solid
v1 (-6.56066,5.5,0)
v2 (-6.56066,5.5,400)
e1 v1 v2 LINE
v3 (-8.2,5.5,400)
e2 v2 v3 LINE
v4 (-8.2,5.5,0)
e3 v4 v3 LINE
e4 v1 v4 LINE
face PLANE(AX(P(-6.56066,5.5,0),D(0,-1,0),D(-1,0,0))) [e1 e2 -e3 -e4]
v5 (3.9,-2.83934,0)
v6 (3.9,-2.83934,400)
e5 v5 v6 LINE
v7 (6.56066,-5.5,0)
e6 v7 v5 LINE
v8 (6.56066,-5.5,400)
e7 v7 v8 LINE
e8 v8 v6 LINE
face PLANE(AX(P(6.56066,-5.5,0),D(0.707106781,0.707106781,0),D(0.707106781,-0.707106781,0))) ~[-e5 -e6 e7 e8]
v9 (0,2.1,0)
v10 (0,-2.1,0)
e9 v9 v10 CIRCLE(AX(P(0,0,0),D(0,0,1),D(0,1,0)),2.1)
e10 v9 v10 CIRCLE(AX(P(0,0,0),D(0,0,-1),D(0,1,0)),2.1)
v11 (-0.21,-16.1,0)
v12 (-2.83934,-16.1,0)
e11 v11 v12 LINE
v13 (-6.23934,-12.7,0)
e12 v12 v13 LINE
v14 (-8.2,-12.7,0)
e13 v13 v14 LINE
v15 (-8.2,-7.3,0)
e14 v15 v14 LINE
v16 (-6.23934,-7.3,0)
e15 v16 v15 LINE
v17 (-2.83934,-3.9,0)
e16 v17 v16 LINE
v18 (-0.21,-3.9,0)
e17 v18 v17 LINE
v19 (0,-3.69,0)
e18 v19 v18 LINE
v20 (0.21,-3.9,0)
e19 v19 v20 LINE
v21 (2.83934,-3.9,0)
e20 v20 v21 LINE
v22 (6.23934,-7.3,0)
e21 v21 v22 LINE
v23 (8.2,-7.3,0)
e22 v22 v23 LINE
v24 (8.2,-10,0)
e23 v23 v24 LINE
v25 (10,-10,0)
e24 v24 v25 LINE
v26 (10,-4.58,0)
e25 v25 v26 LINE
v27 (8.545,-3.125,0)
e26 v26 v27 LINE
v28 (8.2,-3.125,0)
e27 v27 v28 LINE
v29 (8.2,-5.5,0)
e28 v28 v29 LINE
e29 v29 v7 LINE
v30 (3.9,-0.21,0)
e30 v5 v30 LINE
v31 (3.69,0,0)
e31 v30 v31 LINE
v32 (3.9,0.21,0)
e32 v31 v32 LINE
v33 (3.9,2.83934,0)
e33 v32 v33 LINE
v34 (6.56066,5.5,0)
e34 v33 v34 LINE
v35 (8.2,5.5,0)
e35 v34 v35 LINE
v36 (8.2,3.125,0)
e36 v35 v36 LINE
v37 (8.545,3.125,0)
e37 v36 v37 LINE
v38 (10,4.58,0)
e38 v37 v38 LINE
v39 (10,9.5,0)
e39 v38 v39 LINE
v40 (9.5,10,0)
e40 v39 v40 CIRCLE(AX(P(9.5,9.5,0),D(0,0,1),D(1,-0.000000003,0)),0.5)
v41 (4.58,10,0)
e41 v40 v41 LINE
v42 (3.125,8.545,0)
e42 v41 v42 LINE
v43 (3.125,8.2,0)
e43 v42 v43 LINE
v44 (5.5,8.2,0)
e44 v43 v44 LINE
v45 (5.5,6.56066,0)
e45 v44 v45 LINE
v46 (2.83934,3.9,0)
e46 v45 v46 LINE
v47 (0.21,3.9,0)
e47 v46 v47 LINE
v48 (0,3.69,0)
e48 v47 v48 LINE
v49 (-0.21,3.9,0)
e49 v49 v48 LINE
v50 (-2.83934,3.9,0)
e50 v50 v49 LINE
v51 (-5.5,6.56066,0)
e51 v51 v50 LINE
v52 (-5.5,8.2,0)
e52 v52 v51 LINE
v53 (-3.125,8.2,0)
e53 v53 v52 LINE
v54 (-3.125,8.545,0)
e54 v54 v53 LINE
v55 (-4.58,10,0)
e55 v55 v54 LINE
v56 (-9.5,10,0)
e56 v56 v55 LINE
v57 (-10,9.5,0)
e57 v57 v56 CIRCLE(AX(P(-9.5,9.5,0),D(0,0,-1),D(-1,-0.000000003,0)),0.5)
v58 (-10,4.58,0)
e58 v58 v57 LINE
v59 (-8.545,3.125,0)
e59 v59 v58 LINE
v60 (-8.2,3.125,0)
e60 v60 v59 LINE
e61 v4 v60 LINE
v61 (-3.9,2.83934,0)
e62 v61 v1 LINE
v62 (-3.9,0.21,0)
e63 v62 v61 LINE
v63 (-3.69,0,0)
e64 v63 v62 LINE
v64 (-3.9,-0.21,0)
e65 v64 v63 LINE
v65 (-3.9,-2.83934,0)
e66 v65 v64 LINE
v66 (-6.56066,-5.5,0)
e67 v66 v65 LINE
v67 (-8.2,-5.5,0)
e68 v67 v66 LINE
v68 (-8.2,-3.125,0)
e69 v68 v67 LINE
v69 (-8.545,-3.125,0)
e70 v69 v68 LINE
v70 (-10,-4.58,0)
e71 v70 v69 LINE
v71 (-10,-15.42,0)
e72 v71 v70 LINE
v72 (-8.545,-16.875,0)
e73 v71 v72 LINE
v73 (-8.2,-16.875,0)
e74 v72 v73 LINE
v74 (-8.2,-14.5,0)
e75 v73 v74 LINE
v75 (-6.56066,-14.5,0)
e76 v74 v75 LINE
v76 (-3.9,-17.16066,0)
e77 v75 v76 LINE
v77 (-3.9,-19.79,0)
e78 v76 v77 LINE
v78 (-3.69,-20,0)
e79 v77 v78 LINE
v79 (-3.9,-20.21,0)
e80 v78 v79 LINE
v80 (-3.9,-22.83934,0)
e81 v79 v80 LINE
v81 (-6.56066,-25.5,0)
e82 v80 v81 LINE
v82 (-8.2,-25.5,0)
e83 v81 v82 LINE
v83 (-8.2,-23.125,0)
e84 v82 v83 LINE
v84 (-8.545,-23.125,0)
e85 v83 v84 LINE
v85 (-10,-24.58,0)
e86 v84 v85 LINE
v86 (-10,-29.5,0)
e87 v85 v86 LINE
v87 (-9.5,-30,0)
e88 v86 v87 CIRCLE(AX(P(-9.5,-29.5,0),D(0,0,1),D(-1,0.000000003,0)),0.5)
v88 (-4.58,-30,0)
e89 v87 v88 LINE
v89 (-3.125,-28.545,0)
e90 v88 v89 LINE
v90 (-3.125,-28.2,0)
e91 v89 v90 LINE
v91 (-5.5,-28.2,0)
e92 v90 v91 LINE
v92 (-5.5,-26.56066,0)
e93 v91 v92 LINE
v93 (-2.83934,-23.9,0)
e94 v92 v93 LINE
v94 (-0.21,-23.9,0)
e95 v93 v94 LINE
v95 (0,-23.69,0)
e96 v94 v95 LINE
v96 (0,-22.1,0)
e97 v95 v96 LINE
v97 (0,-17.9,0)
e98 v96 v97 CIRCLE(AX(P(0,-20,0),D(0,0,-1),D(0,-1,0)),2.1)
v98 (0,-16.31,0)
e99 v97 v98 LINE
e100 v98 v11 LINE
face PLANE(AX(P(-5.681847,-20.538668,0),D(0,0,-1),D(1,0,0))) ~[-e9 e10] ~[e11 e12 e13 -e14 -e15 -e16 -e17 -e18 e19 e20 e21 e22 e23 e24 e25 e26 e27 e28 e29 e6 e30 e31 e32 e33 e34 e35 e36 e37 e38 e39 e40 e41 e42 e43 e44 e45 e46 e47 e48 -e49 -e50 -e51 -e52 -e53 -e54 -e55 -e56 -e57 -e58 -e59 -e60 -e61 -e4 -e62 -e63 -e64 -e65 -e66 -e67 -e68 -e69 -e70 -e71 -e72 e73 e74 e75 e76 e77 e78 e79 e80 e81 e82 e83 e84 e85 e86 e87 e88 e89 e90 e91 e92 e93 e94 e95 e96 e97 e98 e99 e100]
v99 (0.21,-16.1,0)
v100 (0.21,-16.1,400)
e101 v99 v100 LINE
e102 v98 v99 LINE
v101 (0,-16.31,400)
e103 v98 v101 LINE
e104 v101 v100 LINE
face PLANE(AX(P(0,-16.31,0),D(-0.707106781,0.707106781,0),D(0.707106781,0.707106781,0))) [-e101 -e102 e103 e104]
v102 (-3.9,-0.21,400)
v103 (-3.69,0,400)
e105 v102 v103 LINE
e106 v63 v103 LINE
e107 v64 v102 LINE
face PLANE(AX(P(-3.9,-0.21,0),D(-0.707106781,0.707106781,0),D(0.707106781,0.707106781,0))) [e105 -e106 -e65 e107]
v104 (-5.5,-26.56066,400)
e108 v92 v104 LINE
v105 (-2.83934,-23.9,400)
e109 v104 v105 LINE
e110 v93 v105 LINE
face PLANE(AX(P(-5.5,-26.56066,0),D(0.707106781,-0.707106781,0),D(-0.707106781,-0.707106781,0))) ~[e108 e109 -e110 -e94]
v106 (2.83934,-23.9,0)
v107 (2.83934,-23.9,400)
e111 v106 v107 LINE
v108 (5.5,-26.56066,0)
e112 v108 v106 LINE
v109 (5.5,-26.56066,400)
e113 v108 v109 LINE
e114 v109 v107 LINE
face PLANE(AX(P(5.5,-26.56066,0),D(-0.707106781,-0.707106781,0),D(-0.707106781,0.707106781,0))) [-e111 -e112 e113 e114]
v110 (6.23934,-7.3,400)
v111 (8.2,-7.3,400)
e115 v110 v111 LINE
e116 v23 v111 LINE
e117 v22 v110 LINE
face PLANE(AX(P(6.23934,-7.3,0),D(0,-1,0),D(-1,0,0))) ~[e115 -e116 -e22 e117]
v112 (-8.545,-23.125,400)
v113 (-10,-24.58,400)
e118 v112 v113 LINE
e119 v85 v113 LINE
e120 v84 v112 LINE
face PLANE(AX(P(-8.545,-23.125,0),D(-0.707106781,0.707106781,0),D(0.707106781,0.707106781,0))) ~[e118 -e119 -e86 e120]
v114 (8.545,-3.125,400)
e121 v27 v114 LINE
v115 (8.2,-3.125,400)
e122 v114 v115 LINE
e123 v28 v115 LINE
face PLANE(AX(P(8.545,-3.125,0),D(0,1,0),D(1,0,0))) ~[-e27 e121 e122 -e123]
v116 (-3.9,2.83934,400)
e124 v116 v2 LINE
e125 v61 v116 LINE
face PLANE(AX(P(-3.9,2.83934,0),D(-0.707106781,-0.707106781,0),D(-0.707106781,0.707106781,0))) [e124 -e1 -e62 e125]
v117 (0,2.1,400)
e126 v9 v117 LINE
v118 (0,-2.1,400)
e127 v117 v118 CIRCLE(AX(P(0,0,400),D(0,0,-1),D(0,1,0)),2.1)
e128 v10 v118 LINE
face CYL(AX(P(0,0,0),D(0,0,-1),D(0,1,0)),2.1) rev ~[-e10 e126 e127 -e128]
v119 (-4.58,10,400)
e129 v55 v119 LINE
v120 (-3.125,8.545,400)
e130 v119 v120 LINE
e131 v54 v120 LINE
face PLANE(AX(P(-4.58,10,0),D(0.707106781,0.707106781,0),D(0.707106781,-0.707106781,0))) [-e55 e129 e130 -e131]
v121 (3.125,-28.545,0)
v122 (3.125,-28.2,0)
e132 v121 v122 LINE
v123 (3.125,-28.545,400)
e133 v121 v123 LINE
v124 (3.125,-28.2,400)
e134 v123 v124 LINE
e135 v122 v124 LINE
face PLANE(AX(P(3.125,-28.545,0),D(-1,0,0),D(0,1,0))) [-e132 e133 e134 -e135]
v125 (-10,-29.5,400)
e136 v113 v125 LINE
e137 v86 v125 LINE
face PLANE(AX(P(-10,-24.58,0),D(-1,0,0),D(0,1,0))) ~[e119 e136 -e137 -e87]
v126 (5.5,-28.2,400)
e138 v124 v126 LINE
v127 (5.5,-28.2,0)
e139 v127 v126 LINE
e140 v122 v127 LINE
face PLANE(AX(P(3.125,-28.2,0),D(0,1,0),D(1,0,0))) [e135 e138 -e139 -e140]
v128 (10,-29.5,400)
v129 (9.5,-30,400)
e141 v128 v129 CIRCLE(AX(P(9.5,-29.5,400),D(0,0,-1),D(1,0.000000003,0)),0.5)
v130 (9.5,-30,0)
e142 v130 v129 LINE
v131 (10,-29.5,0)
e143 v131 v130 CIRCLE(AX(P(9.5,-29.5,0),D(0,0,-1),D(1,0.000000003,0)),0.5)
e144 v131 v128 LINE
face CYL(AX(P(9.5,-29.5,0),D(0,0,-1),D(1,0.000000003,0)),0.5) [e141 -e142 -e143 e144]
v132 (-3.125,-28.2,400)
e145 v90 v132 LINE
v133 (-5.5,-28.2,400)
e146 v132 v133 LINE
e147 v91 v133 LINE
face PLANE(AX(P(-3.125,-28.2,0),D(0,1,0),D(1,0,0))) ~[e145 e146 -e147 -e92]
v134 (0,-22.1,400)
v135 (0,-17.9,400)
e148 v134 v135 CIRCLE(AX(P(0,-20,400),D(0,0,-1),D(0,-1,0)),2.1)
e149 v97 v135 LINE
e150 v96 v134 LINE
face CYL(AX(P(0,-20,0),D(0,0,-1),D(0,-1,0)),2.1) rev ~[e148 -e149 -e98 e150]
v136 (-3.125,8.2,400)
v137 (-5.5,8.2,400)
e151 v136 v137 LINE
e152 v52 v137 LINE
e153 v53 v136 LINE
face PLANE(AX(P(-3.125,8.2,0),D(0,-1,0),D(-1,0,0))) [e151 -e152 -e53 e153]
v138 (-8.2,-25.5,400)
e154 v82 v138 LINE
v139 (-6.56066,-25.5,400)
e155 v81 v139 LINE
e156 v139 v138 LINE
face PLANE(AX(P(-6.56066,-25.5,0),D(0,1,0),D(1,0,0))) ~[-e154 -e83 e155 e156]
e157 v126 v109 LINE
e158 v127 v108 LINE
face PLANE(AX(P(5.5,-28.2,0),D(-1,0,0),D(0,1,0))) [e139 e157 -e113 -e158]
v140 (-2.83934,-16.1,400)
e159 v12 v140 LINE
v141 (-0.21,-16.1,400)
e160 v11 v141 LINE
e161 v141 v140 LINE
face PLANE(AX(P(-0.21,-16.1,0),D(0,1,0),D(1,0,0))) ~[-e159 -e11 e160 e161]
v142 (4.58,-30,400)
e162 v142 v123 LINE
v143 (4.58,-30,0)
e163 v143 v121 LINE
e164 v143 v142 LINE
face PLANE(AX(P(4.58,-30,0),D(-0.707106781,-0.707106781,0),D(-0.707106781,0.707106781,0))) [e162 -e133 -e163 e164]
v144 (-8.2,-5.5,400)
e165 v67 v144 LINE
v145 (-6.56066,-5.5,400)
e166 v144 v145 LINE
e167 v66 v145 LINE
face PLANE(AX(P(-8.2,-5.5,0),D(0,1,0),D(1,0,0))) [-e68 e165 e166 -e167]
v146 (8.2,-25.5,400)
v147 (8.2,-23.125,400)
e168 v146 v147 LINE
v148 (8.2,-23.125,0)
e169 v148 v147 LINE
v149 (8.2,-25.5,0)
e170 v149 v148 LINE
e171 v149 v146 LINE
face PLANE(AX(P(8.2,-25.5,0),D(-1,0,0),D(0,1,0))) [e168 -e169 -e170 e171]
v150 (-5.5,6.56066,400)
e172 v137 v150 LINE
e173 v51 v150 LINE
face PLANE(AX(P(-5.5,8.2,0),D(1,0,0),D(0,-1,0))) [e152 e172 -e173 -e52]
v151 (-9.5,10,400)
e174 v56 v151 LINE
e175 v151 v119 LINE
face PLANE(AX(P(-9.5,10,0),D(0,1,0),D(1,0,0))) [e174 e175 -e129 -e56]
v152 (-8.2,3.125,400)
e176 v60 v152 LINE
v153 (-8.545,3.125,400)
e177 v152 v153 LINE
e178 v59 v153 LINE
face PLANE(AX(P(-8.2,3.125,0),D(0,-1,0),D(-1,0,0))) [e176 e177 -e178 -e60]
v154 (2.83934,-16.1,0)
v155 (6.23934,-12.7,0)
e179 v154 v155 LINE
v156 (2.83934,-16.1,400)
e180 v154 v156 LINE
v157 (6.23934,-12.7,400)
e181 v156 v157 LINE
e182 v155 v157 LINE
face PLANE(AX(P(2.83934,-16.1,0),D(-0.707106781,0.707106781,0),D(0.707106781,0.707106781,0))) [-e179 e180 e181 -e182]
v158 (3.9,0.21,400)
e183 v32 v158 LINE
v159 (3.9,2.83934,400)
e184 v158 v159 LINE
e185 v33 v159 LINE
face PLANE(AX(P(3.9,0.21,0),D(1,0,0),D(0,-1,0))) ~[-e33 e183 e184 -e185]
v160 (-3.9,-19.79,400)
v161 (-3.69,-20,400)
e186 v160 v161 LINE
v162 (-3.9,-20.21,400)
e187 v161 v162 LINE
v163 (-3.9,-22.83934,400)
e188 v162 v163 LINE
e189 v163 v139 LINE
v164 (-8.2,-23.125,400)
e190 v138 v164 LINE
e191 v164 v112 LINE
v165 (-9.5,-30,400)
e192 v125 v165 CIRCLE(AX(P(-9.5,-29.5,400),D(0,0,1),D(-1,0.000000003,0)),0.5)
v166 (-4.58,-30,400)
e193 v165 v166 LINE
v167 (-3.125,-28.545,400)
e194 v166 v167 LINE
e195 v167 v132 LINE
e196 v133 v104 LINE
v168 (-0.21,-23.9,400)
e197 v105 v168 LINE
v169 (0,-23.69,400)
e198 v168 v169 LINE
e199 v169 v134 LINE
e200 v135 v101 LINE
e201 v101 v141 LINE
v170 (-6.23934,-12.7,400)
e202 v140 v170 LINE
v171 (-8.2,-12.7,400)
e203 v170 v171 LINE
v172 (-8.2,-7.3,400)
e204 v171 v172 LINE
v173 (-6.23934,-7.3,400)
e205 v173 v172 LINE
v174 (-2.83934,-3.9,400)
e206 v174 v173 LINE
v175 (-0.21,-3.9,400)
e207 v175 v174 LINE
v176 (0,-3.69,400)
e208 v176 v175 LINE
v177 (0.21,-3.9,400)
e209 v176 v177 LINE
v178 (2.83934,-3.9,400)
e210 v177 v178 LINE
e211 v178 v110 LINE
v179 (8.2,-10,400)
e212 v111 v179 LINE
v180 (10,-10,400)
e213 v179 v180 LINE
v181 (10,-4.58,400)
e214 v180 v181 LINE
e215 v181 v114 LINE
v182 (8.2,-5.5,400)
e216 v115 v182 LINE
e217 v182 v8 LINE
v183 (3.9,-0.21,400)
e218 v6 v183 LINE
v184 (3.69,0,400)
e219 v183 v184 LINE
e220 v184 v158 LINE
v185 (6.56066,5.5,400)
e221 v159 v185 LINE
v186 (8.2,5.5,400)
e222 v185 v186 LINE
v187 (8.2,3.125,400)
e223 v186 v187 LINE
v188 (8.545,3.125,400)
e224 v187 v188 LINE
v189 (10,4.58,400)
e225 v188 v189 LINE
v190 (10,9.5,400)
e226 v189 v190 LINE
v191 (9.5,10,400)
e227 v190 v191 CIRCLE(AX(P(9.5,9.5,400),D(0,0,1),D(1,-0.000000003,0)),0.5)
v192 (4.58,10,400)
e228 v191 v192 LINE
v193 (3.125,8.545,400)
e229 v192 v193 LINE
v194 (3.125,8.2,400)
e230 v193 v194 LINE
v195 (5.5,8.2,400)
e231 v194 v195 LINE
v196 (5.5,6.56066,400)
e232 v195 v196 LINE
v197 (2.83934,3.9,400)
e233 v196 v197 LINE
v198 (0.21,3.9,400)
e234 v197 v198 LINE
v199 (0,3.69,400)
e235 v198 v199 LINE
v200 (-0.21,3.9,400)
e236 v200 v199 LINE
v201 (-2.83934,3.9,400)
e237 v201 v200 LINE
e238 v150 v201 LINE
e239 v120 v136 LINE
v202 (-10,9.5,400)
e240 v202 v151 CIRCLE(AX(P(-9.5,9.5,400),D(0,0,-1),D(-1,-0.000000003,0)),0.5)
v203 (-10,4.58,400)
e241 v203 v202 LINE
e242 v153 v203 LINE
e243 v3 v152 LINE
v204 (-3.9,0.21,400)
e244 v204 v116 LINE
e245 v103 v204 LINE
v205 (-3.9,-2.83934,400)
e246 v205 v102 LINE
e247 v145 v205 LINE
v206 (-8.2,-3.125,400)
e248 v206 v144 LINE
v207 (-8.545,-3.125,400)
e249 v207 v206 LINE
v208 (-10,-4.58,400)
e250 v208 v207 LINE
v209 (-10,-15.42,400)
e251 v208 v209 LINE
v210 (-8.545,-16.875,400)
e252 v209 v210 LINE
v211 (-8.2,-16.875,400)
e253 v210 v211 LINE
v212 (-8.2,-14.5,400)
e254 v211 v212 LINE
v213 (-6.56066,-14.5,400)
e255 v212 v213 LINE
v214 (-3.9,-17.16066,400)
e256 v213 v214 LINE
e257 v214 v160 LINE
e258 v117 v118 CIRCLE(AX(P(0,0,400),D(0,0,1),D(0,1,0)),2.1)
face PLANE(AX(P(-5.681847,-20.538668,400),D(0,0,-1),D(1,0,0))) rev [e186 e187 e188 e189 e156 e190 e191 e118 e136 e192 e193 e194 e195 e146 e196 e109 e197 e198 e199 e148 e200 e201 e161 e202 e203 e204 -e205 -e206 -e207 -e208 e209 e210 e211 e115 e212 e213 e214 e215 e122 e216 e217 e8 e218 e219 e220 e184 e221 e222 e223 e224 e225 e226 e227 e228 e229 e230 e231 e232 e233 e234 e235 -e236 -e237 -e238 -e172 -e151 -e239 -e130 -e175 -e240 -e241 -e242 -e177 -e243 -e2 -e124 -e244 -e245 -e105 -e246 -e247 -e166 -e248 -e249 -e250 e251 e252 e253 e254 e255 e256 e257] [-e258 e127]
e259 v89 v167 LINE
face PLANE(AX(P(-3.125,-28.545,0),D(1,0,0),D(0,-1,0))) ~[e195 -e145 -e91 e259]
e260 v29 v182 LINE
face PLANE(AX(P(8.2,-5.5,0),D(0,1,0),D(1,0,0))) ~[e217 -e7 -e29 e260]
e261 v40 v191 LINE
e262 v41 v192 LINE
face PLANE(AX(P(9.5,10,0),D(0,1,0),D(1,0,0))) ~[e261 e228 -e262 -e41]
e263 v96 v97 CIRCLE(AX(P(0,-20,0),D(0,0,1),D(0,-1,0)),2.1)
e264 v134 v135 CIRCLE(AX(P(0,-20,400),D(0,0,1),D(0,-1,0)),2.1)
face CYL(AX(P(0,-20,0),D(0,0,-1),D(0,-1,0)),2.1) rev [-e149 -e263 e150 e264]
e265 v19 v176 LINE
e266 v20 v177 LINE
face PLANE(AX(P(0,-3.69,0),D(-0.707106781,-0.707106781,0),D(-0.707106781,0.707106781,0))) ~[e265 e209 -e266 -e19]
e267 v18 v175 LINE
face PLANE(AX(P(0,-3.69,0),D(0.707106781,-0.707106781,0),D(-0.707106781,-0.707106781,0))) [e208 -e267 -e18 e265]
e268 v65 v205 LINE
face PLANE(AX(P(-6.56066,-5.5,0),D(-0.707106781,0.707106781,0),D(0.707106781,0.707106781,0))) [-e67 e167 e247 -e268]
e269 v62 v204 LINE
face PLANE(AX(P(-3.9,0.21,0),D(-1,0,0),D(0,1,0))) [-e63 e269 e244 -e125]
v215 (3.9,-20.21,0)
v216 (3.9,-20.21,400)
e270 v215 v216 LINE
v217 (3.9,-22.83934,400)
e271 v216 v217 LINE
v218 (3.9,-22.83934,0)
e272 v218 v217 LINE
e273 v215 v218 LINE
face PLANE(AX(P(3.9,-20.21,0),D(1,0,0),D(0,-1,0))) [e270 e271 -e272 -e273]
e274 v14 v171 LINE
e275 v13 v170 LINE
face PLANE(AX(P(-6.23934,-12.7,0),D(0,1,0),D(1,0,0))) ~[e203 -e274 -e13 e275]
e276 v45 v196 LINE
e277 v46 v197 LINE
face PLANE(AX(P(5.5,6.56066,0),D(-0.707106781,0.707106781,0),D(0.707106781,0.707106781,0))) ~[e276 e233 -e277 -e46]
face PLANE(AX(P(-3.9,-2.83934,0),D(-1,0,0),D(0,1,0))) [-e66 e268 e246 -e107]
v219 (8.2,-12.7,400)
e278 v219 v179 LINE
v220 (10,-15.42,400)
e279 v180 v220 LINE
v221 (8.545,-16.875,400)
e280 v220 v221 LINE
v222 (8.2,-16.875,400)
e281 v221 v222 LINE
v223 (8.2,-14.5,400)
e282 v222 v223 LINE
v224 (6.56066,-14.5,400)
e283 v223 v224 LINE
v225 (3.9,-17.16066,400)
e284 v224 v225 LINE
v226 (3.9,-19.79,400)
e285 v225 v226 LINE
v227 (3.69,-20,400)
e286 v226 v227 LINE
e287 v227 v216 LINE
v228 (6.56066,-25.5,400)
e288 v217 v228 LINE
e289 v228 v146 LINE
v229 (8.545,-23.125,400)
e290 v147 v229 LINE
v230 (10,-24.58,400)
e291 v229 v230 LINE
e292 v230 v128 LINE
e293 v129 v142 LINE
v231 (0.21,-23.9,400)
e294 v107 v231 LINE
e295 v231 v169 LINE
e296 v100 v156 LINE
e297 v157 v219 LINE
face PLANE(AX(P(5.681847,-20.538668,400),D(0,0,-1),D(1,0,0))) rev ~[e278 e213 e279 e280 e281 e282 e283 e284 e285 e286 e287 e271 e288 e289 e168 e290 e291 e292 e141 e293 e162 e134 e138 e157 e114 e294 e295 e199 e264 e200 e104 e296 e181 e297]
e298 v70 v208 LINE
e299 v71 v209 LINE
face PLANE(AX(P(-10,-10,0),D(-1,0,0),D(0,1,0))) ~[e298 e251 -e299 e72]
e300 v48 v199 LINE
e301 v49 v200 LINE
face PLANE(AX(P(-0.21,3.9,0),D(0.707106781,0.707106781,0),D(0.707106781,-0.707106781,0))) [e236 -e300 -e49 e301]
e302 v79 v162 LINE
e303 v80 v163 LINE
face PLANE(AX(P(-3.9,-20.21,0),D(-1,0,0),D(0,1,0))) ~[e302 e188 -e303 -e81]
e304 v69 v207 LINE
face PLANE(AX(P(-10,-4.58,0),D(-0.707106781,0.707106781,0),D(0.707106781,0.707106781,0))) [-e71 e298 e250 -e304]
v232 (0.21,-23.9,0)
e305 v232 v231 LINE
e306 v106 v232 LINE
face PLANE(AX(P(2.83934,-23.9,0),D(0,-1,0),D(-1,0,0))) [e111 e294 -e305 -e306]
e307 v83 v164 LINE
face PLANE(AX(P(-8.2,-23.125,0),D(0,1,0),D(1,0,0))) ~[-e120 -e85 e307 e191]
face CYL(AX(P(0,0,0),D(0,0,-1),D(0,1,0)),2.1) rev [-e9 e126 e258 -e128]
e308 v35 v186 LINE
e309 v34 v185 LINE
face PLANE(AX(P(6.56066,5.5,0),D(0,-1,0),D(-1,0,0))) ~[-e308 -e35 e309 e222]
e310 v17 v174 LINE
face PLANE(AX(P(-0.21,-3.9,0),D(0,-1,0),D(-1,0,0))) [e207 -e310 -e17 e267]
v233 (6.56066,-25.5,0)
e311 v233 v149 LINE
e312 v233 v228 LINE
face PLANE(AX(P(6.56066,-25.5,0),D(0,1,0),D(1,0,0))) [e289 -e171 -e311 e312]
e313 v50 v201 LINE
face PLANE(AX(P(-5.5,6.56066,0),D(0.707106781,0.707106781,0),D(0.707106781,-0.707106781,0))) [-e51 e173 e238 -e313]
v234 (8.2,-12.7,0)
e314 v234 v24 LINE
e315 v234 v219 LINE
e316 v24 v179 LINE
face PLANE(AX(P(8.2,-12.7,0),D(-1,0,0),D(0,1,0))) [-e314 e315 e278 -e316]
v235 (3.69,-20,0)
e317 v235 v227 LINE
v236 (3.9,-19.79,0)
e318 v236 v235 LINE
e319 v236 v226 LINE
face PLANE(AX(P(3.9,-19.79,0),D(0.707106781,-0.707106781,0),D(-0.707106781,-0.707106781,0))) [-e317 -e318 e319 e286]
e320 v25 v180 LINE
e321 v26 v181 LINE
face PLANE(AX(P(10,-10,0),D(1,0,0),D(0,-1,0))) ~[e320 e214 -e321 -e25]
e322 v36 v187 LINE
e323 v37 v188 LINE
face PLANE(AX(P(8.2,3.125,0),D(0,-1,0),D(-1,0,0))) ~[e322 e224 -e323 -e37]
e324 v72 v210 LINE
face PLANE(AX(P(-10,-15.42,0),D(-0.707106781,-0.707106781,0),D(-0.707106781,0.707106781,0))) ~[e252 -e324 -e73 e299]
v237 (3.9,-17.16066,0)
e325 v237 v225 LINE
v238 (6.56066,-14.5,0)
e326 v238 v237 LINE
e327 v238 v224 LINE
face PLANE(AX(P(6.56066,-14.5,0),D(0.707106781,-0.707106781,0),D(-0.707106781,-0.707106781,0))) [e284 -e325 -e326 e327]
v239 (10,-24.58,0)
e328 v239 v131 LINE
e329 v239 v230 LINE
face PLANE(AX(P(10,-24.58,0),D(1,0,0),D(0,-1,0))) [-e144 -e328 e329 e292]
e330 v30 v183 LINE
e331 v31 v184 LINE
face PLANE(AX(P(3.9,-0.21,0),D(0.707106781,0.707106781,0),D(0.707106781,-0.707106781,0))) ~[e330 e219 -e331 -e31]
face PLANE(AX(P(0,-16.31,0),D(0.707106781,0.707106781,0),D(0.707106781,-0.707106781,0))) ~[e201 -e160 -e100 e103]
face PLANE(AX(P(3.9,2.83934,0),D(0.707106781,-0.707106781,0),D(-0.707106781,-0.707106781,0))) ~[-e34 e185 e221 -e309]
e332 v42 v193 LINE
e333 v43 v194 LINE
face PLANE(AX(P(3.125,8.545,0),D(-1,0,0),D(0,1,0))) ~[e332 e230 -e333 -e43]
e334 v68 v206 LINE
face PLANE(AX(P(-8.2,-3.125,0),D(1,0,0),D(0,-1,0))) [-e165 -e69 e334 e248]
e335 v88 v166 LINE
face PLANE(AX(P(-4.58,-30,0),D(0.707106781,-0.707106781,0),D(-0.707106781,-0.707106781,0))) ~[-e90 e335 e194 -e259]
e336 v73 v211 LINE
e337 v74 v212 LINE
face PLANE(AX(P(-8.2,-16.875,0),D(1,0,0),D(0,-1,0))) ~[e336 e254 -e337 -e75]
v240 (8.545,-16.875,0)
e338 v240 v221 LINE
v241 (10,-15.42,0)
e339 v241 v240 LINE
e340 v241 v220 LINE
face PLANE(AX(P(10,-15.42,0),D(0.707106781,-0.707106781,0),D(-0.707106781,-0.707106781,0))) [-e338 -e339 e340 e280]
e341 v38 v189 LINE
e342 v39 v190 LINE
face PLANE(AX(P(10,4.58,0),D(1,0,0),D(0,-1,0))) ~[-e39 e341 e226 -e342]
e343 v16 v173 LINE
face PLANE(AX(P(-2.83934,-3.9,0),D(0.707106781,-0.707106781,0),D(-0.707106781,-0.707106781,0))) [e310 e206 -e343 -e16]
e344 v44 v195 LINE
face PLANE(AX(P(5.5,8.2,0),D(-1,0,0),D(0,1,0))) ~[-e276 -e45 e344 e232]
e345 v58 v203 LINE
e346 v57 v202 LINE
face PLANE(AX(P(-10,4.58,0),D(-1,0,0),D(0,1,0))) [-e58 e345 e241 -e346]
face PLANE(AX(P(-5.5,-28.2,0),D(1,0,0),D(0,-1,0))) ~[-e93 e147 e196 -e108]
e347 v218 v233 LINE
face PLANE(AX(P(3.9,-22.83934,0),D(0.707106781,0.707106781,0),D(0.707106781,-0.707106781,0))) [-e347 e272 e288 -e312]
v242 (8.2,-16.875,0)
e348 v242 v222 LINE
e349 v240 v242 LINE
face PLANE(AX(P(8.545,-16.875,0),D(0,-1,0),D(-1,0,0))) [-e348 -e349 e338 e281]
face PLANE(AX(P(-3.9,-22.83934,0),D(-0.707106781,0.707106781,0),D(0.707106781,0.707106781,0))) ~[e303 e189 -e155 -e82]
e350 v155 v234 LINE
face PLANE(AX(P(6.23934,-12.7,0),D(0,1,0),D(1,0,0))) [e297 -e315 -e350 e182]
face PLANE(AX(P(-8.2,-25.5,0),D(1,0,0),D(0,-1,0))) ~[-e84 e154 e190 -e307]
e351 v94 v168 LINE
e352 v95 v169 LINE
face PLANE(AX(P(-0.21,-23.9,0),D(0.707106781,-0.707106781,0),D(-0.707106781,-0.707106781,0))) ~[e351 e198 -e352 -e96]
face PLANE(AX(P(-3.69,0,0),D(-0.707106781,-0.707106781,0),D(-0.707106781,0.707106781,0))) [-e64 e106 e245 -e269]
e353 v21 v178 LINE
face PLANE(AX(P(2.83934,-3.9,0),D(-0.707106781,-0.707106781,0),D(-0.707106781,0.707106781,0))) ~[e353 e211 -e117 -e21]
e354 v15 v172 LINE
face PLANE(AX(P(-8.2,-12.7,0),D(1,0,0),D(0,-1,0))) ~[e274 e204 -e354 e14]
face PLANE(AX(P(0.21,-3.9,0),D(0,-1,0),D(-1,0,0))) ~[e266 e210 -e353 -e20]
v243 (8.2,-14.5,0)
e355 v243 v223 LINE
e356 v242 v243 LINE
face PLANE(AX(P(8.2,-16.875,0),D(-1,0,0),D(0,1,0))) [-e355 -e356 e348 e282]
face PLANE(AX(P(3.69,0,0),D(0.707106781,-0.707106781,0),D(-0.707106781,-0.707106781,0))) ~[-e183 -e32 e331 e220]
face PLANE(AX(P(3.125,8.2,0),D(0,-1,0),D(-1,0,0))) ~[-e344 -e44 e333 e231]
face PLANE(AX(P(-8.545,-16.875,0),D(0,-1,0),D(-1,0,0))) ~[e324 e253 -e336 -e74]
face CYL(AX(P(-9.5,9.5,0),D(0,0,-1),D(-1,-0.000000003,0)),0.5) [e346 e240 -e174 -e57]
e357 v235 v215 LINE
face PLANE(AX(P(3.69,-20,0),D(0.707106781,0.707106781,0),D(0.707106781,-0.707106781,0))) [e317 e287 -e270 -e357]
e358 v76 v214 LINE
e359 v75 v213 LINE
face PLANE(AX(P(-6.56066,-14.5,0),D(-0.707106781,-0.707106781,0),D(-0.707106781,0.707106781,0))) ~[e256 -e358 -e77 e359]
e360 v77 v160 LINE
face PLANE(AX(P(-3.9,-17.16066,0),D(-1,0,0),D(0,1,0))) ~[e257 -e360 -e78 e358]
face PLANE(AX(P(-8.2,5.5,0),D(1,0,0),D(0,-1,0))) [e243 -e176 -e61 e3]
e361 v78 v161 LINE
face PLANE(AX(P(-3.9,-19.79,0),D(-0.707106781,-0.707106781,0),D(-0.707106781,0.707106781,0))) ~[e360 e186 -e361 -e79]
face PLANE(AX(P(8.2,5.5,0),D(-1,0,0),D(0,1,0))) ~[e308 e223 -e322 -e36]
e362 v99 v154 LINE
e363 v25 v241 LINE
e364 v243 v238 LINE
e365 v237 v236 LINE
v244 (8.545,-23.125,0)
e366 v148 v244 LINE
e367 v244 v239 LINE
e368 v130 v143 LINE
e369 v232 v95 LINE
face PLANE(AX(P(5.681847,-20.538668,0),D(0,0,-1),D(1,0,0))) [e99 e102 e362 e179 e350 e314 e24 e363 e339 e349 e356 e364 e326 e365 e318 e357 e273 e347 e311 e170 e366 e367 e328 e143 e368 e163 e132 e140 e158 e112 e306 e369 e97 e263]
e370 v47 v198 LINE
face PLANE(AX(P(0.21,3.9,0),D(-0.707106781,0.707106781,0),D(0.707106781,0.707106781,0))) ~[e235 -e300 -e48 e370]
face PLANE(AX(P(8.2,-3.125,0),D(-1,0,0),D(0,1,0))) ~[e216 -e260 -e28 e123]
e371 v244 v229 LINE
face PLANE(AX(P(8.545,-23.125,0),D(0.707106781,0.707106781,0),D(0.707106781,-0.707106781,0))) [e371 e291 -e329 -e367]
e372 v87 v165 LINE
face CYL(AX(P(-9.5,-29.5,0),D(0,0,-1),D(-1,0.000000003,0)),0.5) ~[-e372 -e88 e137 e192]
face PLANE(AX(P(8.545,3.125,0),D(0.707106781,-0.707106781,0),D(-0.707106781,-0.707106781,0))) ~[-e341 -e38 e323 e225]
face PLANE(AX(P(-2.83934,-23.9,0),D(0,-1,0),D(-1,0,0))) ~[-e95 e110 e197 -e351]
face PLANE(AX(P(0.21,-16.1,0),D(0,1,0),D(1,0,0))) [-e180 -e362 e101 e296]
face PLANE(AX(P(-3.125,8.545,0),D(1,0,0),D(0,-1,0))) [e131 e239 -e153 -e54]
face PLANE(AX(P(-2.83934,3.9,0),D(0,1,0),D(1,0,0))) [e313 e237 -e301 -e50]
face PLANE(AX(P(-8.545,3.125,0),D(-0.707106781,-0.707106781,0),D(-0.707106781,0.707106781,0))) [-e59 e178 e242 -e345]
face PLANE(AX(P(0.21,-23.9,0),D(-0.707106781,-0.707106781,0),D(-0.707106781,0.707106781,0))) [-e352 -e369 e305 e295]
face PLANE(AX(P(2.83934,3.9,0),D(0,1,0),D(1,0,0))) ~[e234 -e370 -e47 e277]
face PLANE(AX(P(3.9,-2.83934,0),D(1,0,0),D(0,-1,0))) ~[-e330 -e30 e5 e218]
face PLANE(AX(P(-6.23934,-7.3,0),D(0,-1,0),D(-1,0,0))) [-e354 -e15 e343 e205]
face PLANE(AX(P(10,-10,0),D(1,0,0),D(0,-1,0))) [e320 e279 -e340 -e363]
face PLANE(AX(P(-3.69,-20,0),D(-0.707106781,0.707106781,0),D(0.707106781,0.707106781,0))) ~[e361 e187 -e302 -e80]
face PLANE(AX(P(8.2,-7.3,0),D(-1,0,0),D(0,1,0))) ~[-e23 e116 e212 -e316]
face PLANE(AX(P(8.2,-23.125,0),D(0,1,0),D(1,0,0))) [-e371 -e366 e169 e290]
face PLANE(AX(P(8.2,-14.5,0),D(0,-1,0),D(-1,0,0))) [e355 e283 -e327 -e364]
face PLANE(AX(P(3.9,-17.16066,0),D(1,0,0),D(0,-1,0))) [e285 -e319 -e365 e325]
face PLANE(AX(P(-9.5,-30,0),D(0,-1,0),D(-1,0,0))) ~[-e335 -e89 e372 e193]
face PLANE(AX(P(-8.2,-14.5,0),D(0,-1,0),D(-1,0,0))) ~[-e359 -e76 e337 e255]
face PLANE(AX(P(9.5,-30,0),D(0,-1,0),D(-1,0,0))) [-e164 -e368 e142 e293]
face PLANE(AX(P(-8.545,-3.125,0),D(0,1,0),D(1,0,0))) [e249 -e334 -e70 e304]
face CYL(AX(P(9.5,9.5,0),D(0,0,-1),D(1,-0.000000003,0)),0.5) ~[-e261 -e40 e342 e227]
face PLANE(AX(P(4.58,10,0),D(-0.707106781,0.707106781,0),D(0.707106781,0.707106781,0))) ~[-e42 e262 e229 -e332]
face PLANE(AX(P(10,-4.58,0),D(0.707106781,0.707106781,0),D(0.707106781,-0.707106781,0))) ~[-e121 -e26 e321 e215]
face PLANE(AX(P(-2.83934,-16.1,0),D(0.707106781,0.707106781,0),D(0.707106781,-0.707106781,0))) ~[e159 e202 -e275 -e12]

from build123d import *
from build123d.topology import SkipClean

# Parameters (mm, degrees)
BOSS_EXTRU_1_DEPTH     = 400
SYM_TRIE6_COPY_1_DEPTH = 400


with BuildPart() as part:
    # Esquisse1 → Boss.-Extru.1 (new body)
    with BuildSketch(Plane.XY):
        with BuildLine():
            Line((-9.5, 10), (-4.58, 10))
            Line((-4.58, 10), (-3.125, 8.545))
            Line((-3.125, 8.545), (-3.125, 8.2))
            Line((-3.125, 8.2), (-5.5, 8.2))
            Line((-5.5, 8.2), (-5.5, 6.560660172))
            Line((-5.5, 6.560660172), (-2.839339828, 3.9))
            Line((-2.839339828, 3.9), (-0.21, 3.9))
            Line((-0.21, 3.9), (0, 3.69))
            Line((0, 3.69), (0, 2.1))
            ThreePointArc((0, 2.1), (-2.1, 0), (0, -2.1))
            Line((0, -2.1), (0, -3.69))
            Line((0, -3.69), (-0.21, -3.9))
            Line((-0.21, -3.9), (-2.839339828, -3.9))
            Line((-2.839339828, -3.9), (-6.239339828, -7.3))
            Line((-6.239339828, -7.3), (-8.2, -7.3))
            Line((-8.2, -7.3), (-8.2, -10))
            Line((-8.2, -10), (-10, -10))
            Line((-10, -10), (-10, -4.58))
            Line((-10, -4.58), (-8.545, -3.125))
            Line((-8.545, -3.125), (-8.2, -3.125))
            Line((-8.2, -3.125), (-8.2, -5.5))
            Line((-8.2, -5.5), (-6.560660172, -5.5))
            Line((-6.560660172, -5.5), (-3.9, -2.839339828))
            Line((-3.9, -2.839339828), (-3.9, -0.21))
            Line((-3.9, -0.21), (-3.69, 0))
            Line((-3.69, 0), (-3.9, 0.21))
            Line((-3.9, 0.21), (-3.9, 2.839339828))
            Line((-3.9, 2.839339828), (-6.560660172, 5.5))
            Line((-6.560660172, 5.5), (-8.2, 5.5))
            Line((-8.2, 5.5), (-8.2, 3.125))
            Line((-8.2, 3.125), (-8.545, 3.125))
            Line((-8.545, 3.125), (-10, 4.58))
            Line((-10, 4.58), (-10, 9.5))
            ThreePointArc((-10, 9.5), (-9.853553391, 9.853553391), (-9.5, 10))
        make_face()
    boss_extru_1 = extrude(amount=BOSS_EXTRU_1_DEPTH)

    # Symétrie1: Boss.-Extru.1 across plane
    add(boss_extru_1.mirror(Plane(origin=(0, 3.69, 400), x_dir=(0, 0, 1), z_dir=(-1, 0, 0))))

    # Symétrie6: Boss.-Extru.1 across plane
    add(boss_extru_1.mirror(Plane(origin=(-8.2, -10, 400), x_dir=(0, 0, 1), z_dir=(0, 1, 0))))

    # Symétrie6 copy 1 sketch → Symétrie6 copy 1 (add)
    with SkipClean():  # the faces are left unmerged after this step: merging them gives an invalid solid
        with BuildSketch(Plane(origin=(0, -20, 0), x_dir=(-1, 0, 0), z_dir=(0, 0, 1))):
            with BuildLine():
                Line((-9.5, 10), (-4.58, 10))
                Line((-4.58, 10), (-3.125, 8.545))
                Line((-3.125, 8.545), (-3.125, 8.2))
                Line((-3.125, 8.2), (-5.5, 8.2))
                Line((-5.5, 8.2), (-5.5, 6.560660172))
                Line((-5.5, 6.560660172), (-2.839339828, 3.9))
                Line((-2.839339828, 3.9), (-0.21, 3.9))
                Line((-0.21, 3.9), (0, 3.69))
                Line((0, 3.69), (0, 2.1))
                ThreePointArc((0, 2.1), (-2.1, 0), (0, -2.1))
                Line((0, -2.1), (0, -3.69))
                Line((0, -3.69), (-0.21, -3.9))
                Line((-0.21, -3.9), (-2.839339828, -3.9))
                Line((-2.839339828, -3.9), (-6.239339828, -7.3))
                Line((-6.239339828, -7.3), (-8.2, -7.3))
                Line((-8.2, -7.3), (-8.2, -10))
                Line((-8.2, -10), (-10, -10))
                Line((-10, -10), (-10, -4.58))
                Line((-10, -4.58), (-8.545, -3.125))
                Line((-8.545, -3.125), (-8.2, -3.125))
                Line((-8.2, -3.125), (-8.2, -5.5))
                Line((-8.2, -5.5), (-6.560660172, -5.5))
                Line((-6.560660172, -5.5), (-3.9, -2.839339828))
                Line((-3.9, -2.839339828), (-3.9, -0.21))
                Line((-3.9, -0.21), (-3.69, 0))
                Line((-3.69, 0), (-3.9, 0.21))
                Line((-3.9, 0.21), (-3.9, 2.839339828))
                Line((-3.9, 2.839339828), (-6.560660172, 5.5))
                Line((-6.560660172, 5.5), (-8.2, 5.5))
                Line((-8.2, 5.5), (-8.2, 3.125))
                Line((-8.2, 3.125), (-8.545, 3.125))
                Line((-8.545, 3.125), (-10, 4.58))
                Line((-10, 4.58), (-10, 9.5))
                ThreePointArc((-10, 9.5), (-9.853553391, 9.853553391), (-9.5, 10))
            make_face()
        extrude(amount=SYM_TRIE6_COPY_1_DEPTH)


solid = part.part
